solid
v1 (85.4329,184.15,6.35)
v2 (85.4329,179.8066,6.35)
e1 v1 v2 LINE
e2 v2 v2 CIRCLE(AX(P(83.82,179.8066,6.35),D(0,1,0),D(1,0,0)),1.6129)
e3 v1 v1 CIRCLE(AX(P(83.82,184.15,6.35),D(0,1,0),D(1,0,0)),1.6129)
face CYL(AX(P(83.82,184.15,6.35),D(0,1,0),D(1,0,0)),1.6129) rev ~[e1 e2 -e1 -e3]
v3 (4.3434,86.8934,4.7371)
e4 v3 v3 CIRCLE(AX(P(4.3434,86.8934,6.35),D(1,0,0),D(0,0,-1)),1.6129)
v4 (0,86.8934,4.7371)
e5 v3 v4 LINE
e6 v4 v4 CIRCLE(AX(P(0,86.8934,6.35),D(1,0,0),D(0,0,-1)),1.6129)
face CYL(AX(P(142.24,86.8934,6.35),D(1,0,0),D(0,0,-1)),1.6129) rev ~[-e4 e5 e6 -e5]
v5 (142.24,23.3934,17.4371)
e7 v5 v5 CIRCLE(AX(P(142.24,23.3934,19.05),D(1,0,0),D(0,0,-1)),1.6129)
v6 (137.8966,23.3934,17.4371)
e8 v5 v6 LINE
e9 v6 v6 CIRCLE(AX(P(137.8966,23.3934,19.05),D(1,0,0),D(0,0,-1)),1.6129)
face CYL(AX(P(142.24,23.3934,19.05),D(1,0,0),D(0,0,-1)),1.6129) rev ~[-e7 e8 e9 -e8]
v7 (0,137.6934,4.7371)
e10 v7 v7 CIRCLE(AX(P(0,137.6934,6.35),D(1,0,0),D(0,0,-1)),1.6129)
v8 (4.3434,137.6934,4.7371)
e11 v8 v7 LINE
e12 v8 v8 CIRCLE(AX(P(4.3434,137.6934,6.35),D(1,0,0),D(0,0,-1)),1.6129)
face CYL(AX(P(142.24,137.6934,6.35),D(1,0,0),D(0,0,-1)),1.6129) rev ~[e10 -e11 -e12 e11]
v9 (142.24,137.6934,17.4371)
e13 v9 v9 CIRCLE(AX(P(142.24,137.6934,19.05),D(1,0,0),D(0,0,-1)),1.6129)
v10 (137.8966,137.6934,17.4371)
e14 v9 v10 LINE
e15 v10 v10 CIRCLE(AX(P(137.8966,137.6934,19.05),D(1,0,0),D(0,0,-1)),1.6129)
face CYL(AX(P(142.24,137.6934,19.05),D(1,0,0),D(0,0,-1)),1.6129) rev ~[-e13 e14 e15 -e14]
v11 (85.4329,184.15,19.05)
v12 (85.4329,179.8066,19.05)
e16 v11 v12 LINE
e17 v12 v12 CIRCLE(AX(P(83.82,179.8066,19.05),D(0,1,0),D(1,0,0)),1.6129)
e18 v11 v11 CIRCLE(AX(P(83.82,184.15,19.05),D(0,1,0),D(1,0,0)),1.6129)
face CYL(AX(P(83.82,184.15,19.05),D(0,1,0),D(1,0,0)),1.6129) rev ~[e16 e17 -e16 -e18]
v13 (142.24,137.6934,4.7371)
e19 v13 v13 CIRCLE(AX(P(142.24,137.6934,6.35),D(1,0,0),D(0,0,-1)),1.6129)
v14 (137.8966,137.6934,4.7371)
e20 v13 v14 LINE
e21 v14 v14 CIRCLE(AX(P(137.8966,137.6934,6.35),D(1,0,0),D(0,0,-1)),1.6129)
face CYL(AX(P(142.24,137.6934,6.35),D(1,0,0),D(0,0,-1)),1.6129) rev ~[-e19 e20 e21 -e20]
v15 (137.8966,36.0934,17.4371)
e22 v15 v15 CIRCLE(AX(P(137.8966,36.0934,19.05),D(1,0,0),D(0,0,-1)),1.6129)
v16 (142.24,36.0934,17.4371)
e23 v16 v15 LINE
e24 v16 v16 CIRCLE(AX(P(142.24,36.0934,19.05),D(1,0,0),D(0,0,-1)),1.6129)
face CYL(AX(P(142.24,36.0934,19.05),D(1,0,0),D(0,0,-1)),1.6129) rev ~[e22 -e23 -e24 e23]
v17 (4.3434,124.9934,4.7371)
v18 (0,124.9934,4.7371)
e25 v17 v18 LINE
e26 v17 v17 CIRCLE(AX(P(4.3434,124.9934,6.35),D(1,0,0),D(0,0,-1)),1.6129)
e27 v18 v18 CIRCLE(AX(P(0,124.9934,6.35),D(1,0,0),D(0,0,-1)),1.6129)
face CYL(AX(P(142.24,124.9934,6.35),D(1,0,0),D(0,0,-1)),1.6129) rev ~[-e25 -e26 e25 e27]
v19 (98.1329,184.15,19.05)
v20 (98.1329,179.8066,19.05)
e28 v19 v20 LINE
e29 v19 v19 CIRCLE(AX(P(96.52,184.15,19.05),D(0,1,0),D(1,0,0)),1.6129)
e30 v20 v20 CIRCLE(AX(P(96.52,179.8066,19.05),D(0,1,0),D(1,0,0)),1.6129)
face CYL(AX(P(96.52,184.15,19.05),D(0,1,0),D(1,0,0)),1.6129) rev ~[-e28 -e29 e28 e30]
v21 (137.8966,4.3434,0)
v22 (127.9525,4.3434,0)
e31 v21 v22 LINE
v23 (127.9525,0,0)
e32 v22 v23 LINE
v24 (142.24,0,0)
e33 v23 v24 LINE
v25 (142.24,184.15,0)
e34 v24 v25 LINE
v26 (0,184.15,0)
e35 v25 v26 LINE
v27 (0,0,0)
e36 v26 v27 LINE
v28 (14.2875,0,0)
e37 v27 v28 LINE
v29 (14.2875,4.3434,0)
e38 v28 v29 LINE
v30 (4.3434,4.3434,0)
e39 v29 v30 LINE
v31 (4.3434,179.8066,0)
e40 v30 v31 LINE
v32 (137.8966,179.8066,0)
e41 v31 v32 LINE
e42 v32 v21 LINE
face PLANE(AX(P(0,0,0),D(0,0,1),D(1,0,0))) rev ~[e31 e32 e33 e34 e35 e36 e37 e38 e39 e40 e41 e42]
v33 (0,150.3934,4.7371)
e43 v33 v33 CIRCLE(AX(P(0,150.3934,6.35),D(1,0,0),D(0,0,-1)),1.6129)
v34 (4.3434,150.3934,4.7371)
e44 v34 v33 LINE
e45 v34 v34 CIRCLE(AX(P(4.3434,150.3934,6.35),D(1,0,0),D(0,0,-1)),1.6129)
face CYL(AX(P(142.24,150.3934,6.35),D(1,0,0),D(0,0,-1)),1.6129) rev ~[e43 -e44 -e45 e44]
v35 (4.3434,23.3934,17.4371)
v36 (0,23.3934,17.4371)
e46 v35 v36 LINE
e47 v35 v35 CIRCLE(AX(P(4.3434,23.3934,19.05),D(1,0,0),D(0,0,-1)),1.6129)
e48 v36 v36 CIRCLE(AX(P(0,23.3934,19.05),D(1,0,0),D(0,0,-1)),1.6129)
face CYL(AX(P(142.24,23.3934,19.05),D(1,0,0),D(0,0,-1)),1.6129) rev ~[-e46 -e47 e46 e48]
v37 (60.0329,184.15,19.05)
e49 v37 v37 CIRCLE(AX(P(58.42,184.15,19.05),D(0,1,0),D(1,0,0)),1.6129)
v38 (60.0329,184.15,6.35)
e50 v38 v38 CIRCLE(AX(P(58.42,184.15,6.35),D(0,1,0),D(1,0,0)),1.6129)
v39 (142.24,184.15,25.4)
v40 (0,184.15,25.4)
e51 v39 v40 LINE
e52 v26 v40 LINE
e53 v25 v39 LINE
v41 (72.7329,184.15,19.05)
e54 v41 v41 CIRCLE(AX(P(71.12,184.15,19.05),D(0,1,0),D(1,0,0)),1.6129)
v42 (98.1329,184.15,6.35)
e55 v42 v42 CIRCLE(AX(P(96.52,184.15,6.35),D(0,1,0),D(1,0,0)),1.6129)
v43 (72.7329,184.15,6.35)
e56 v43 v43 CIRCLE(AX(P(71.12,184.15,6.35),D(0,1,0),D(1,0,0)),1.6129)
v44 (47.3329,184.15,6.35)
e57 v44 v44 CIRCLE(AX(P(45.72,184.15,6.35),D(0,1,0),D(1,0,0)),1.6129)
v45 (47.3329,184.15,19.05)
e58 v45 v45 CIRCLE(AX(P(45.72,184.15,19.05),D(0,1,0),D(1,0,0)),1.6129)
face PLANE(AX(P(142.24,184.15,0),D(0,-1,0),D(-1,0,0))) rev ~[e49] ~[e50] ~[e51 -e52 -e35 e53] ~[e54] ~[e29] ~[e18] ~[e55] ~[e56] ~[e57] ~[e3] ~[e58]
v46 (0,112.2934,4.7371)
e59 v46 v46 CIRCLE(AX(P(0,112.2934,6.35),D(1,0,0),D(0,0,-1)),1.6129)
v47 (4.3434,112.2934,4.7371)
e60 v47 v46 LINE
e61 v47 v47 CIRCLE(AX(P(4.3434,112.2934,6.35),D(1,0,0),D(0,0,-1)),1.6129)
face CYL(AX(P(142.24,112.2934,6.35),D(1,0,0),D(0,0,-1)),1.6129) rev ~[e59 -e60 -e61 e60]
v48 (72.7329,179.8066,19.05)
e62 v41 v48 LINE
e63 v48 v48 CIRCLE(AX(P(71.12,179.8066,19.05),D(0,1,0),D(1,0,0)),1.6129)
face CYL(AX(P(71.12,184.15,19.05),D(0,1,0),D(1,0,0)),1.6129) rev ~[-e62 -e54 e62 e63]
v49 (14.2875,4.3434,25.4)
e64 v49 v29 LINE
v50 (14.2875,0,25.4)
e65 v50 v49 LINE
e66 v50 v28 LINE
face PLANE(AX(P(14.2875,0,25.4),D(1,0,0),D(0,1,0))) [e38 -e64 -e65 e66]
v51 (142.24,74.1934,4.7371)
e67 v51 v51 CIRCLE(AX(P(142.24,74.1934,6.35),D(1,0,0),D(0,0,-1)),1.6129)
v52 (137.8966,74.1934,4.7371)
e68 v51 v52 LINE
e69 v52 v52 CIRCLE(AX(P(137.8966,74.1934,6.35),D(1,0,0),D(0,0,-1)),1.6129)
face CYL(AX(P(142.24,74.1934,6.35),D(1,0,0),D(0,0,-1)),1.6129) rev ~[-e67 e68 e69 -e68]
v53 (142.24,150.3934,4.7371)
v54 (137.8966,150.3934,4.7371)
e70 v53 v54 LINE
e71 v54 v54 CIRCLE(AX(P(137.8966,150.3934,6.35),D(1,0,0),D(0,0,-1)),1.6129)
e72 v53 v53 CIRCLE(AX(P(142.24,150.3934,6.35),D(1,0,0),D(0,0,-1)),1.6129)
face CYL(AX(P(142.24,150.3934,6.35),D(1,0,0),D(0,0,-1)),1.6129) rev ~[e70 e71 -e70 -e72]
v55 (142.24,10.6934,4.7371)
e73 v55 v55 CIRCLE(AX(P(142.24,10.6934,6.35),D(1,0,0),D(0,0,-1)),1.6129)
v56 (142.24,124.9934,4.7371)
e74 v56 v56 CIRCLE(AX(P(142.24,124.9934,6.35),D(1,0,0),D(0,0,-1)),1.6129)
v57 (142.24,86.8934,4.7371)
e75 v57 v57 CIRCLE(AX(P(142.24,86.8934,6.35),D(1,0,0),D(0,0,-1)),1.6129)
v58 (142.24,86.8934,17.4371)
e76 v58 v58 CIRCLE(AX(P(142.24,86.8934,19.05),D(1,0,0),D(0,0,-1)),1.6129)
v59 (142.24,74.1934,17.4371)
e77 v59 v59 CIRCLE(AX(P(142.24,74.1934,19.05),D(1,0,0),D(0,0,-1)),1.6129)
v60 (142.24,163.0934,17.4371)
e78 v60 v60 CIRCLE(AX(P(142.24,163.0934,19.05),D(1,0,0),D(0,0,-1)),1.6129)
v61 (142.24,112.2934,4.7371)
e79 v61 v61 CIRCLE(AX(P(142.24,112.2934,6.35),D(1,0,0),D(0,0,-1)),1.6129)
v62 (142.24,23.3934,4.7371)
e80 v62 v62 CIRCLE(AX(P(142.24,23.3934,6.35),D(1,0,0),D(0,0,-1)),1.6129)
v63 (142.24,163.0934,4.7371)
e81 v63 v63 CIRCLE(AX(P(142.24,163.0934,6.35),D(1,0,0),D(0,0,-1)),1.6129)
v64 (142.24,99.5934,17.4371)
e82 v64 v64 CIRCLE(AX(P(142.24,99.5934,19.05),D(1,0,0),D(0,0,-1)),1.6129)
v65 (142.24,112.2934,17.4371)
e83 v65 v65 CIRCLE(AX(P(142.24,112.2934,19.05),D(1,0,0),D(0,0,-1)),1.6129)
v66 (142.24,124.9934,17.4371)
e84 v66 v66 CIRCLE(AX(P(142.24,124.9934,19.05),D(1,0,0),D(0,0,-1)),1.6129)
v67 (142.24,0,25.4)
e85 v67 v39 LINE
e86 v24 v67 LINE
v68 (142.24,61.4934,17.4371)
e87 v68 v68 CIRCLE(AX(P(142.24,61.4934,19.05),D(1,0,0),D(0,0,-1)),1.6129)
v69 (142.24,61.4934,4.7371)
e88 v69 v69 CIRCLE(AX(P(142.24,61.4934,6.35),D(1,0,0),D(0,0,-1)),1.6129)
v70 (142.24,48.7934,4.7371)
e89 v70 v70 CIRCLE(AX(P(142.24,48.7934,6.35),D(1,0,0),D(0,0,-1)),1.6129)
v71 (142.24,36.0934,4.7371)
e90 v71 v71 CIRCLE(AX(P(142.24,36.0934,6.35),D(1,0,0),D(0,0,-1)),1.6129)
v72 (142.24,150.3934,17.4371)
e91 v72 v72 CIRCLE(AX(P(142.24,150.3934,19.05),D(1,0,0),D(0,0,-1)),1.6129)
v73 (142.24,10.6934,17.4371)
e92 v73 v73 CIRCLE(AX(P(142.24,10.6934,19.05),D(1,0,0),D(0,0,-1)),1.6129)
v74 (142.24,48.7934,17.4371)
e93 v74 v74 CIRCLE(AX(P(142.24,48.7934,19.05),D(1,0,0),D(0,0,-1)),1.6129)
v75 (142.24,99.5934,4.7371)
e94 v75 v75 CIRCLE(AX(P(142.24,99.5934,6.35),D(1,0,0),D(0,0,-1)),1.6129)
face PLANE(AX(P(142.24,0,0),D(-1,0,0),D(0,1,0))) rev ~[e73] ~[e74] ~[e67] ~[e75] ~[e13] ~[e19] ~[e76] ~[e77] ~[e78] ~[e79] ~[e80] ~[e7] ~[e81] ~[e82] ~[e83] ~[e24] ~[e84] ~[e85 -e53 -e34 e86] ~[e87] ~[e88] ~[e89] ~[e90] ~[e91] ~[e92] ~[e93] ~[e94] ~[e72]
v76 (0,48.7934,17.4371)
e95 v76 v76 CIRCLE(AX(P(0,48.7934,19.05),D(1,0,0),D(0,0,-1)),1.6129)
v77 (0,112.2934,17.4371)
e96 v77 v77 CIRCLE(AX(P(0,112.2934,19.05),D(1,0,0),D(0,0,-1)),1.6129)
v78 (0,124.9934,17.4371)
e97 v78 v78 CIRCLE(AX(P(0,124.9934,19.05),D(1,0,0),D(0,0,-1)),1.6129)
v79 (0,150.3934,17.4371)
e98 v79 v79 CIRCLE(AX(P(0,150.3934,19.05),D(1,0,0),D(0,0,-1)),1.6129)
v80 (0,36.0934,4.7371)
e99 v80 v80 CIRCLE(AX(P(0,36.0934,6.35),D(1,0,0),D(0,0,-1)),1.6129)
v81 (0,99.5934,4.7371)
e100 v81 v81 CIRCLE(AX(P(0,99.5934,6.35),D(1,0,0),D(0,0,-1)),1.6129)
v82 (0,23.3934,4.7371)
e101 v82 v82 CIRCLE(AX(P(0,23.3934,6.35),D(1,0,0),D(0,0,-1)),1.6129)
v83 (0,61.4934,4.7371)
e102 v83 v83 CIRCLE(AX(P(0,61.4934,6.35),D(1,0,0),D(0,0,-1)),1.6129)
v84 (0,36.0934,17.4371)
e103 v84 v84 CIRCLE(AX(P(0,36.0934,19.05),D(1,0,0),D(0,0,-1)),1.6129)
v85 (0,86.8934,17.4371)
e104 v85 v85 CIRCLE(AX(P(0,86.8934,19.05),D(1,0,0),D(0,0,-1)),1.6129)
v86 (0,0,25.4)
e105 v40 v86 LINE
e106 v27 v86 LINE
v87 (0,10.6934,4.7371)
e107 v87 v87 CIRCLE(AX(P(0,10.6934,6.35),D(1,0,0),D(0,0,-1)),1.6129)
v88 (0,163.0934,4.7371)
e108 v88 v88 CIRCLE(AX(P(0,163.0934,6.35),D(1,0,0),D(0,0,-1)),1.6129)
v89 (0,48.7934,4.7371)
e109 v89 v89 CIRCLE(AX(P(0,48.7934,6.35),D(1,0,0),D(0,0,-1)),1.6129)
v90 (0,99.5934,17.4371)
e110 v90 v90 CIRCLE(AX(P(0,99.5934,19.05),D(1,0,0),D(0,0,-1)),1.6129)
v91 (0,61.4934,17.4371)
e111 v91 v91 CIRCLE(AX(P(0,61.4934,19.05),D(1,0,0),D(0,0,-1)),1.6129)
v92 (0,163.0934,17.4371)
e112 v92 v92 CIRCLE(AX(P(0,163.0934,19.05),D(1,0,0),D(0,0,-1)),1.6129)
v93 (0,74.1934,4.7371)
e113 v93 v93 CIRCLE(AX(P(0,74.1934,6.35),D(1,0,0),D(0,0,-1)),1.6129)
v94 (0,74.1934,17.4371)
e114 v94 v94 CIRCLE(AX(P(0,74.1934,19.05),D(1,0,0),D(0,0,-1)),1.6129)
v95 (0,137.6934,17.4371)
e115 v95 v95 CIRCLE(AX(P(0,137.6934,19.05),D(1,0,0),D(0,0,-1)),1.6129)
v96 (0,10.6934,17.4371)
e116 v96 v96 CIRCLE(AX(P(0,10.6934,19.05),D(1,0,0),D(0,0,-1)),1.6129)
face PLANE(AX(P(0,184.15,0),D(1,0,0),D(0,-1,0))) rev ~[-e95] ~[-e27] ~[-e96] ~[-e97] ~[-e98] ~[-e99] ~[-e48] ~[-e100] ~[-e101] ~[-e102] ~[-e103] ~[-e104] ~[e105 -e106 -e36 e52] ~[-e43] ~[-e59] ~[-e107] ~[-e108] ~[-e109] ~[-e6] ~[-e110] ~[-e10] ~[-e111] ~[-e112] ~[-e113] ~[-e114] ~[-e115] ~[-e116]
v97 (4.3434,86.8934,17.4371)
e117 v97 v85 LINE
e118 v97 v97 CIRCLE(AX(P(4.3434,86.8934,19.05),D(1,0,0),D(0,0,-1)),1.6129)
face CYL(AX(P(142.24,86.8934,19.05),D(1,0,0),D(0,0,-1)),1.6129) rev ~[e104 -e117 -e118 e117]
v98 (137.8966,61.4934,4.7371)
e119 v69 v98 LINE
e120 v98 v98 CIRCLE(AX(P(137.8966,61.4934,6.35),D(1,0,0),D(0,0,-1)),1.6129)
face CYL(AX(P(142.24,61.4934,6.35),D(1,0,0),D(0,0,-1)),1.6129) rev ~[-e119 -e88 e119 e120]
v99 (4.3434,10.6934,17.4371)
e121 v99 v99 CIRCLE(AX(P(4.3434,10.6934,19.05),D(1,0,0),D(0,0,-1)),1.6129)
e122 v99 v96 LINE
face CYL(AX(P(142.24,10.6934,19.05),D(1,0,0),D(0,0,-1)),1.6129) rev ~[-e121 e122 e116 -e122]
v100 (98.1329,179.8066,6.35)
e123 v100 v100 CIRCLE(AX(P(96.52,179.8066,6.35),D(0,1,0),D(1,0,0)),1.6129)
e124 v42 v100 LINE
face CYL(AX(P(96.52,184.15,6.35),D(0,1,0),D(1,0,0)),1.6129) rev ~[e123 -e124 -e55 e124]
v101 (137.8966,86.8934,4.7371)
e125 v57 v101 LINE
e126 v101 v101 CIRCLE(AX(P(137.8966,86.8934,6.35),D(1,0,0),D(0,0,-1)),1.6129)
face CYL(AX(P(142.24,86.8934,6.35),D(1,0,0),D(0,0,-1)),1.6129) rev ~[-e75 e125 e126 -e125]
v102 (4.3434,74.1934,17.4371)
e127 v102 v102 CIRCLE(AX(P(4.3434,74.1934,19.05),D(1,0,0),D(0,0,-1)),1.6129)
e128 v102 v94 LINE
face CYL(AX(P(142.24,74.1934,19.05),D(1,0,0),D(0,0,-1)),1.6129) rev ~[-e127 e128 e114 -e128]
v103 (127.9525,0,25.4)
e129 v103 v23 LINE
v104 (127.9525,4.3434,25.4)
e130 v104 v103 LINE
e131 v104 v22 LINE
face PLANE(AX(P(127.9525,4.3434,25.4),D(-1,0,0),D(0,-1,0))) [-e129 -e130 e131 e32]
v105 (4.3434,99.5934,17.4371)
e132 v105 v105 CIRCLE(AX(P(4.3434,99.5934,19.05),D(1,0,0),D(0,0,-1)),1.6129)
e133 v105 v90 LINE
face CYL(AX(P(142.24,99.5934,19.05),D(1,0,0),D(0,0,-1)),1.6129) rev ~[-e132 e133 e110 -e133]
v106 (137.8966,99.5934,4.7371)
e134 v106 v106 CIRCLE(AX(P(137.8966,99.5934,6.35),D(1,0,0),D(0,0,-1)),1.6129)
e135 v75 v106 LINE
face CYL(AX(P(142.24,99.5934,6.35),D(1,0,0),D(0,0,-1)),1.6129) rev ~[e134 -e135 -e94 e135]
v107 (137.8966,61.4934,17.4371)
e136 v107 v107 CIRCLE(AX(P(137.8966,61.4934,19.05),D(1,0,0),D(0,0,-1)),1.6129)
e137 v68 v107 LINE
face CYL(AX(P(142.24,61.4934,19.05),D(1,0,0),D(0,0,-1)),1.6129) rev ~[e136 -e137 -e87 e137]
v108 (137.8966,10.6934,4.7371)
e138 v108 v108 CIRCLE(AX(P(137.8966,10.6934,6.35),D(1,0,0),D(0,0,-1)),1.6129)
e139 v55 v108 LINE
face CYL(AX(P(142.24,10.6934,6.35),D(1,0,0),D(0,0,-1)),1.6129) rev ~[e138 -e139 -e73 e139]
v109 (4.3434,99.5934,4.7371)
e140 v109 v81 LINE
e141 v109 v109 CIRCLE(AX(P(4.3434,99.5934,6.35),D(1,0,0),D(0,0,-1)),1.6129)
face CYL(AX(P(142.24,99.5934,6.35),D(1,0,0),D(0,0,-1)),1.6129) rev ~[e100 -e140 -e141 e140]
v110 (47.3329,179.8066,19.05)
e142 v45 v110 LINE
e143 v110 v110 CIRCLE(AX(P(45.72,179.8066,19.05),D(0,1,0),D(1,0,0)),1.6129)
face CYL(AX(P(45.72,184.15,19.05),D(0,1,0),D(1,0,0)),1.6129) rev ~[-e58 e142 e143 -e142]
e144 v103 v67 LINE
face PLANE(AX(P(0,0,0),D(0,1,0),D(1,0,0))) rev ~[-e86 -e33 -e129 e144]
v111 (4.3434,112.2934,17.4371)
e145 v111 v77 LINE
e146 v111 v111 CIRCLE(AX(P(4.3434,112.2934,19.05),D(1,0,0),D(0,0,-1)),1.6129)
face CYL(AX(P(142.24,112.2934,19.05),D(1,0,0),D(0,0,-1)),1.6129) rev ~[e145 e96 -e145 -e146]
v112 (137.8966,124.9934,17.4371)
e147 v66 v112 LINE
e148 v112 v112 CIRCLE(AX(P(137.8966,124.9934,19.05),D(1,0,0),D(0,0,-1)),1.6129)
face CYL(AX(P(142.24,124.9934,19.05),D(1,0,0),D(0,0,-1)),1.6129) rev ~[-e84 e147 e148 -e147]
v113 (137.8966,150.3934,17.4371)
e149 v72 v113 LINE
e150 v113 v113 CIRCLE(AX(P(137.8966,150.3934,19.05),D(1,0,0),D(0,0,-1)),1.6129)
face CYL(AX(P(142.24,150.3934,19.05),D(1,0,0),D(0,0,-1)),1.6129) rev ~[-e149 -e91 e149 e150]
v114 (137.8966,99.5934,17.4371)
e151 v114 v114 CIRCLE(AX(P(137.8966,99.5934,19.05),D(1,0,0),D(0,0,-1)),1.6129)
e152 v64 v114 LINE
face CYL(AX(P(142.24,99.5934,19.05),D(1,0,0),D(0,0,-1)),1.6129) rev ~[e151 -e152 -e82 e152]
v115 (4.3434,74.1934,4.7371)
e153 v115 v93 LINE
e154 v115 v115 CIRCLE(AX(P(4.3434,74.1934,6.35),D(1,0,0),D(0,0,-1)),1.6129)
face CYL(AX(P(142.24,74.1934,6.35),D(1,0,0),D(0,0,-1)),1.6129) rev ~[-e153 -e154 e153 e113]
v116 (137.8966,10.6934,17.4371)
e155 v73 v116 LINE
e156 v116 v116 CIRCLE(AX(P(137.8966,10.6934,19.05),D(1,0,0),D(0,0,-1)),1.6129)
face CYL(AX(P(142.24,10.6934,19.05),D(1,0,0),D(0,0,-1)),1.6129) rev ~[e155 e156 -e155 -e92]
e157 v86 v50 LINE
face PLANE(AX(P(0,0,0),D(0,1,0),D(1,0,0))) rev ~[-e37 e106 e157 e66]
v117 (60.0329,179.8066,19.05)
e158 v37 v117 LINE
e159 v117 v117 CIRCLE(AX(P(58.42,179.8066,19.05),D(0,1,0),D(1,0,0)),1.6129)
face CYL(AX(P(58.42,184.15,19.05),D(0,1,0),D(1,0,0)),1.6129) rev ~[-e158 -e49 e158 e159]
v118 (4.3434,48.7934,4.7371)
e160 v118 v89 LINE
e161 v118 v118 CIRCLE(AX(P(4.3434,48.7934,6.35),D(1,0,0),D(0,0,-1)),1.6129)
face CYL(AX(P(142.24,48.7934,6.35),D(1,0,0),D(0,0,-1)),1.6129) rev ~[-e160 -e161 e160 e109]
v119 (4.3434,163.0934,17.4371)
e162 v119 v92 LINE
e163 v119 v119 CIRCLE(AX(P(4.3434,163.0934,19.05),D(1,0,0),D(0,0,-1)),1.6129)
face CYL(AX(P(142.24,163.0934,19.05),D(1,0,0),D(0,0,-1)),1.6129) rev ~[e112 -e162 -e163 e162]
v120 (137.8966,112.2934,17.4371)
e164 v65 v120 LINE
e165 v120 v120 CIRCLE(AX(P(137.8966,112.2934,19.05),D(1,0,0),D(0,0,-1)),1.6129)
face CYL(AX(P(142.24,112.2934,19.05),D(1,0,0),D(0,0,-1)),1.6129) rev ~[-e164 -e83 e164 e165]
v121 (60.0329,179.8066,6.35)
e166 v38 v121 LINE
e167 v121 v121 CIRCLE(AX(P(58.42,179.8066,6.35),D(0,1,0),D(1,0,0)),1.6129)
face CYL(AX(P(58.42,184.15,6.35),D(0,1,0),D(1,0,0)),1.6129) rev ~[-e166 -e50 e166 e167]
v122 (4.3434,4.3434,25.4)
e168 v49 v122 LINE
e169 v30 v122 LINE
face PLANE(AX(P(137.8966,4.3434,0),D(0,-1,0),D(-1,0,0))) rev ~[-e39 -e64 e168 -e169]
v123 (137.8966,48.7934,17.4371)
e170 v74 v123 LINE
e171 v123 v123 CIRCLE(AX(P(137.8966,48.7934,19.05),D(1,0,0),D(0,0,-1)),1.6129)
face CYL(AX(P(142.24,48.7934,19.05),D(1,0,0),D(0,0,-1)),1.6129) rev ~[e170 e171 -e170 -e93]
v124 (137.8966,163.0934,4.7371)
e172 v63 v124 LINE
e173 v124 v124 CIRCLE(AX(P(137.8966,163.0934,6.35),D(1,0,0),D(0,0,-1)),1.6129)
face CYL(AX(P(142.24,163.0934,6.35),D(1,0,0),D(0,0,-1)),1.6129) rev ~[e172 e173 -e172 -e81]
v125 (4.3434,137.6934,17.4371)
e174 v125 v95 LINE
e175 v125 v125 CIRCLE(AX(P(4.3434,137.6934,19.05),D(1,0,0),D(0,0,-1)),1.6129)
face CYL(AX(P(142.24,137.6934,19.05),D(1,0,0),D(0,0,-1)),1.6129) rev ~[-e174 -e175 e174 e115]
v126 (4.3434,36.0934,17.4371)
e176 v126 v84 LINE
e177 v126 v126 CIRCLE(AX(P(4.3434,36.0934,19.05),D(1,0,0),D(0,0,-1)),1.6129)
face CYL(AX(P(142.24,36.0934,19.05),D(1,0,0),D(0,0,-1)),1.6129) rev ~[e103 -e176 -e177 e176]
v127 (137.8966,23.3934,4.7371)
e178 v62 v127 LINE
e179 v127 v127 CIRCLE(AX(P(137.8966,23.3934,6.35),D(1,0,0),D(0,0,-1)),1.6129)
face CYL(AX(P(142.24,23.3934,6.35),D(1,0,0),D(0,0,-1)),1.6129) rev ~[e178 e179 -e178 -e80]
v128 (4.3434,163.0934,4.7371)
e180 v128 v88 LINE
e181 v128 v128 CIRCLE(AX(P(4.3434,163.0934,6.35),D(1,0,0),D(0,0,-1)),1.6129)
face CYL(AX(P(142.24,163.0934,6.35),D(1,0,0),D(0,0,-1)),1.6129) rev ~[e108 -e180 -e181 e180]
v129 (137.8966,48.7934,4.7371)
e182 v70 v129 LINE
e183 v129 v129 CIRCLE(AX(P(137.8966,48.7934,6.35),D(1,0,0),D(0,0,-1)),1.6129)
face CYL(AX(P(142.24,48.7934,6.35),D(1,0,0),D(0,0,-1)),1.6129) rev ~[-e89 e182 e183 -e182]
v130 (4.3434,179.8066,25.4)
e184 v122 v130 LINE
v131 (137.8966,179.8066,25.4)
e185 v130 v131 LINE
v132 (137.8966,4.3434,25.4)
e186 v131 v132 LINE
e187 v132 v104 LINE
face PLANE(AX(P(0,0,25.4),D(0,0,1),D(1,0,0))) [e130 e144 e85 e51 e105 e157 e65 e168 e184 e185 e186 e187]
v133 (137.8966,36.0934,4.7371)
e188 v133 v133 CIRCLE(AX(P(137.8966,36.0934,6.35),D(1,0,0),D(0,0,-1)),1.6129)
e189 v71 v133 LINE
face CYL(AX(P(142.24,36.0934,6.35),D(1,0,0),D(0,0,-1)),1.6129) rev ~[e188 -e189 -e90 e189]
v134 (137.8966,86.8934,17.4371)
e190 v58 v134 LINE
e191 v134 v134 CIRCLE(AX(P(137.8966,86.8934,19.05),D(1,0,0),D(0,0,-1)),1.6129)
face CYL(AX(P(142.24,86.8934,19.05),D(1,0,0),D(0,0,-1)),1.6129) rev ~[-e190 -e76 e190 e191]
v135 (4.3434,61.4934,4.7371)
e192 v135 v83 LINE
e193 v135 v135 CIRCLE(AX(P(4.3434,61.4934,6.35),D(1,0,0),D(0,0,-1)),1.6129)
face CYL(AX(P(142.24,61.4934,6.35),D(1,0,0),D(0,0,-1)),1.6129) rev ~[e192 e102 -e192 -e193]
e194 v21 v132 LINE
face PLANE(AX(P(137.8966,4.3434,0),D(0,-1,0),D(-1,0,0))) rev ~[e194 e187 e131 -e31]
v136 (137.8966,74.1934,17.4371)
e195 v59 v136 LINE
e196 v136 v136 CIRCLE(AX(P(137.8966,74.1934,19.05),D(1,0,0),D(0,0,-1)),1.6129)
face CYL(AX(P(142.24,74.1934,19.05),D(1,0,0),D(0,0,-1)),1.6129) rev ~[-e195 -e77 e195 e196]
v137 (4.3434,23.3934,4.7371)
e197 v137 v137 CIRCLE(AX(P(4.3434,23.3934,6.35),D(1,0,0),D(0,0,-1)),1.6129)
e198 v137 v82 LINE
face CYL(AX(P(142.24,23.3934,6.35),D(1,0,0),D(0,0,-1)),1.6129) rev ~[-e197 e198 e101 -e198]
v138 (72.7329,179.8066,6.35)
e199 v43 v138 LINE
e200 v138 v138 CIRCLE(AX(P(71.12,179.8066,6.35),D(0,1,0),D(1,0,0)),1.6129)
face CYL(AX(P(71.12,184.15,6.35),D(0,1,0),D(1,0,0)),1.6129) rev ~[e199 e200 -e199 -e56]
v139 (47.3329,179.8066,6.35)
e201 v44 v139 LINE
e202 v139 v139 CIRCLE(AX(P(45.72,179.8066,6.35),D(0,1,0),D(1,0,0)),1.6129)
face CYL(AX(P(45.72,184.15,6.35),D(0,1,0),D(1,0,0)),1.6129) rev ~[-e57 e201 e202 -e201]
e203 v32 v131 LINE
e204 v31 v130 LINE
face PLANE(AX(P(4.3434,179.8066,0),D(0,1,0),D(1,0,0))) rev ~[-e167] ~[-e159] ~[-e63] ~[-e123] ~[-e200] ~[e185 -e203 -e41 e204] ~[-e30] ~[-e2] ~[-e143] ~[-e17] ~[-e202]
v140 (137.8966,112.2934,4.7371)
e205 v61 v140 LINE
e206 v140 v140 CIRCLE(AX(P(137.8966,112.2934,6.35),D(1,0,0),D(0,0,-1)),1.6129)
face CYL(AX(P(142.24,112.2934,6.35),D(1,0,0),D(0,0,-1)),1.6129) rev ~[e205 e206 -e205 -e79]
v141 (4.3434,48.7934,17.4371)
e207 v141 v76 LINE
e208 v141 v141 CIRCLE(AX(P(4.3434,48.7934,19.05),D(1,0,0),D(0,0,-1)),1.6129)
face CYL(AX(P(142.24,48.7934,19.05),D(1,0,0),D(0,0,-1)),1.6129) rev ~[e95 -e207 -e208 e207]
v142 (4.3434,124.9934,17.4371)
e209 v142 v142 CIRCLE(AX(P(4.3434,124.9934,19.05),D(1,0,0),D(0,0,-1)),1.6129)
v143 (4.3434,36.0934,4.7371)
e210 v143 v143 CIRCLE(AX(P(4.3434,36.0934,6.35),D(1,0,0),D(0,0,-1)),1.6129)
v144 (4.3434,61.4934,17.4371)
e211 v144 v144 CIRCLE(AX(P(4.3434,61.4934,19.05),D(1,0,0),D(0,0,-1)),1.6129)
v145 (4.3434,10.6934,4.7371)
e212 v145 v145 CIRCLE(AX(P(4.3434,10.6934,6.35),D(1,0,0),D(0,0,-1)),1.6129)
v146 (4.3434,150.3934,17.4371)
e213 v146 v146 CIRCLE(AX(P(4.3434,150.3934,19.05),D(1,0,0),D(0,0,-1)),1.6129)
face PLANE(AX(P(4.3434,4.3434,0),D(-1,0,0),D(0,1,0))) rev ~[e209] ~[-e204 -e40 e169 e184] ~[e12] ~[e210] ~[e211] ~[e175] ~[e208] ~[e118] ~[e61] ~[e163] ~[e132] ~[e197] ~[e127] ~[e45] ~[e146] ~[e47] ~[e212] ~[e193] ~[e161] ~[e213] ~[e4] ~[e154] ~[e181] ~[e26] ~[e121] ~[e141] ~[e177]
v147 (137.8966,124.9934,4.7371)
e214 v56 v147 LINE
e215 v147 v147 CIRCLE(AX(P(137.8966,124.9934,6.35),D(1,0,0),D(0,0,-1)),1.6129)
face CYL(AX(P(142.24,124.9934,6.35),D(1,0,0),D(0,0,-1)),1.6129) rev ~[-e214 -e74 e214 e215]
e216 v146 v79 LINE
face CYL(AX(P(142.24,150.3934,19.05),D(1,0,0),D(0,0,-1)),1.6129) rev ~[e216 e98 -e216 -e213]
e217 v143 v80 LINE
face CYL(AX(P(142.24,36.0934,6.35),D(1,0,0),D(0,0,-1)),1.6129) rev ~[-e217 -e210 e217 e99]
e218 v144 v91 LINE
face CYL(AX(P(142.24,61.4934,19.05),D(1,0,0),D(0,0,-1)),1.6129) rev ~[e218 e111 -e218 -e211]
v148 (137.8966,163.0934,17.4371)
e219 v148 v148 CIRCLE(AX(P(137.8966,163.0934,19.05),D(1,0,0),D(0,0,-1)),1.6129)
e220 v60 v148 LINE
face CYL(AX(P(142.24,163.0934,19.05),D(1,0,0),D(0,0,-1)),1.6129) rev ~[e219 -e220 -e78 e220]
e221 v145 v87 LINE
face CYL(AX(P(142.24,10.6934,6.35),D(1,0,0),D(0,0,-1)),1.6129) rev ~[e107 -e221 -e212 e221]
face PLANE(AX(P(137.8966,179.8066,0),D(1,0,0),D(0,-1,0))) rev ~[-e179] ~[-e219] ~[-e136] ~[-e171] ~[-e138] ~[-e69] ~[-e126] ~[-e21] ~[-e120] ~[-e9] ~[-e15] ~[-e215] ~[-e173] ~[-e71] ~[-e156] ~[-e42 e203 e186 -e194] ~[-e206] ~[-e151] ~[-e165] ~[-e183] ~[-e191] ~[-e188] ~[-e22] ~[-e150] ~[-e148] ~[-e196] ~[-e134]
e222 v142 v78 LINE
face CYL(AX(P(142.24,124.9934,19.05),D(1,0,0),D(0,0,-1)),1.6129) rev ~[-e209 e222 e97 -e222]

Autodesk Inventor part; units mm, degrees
ref_plane "YZ Plane" through (0, 0, 0) normal (1, 0, 0) x (0, 1, 0)
ref_plane "XZ Plane" through (0, 0, 0) normal (0, 1, 0) x (-1, 0, 0)
ref_plane "XY Plane" through (0, 0, 0) normal (0, 0, 1) x (1, 0, 0)
sketch "Sketch1" plane through (0, 0, 0) normal (0, 0, 1) x (1, 0, 0)
  line L0 (0, 0) -> (142.24, 0)
  line L1 (142.24, 0) -> (142.24, 184.15)
  line L2 (142.24, 184.15) -> (0, 184.15)
  line L3 (0, 184.15) -> (0, 0)
  line L4 (4.3434, 179.8066) -> (137.8966, 179.8066)
  line L5 (137.8966, 179.8066) -> (137.8966, 4.3434)
  line L6 (137.8966, 4.3434) -> (4.3434, 4.3434)
  line L7 (4.3434, 4.3434) -> (4.3434, 179.8066)
  dimension "d0" = 184.15
  dimension "d1" = 142.24
  dimension "d2" = 4.3434
extrude "Extrusion1" add sketch "Sketch1" along normal blind 25.4
sketch "Sketch2" plane through (0, 0, 25.4) normal (0, 0, 1) x (1, 0, 0)
  line L0 (4.3434, 4.3434) -> (137.8966, 4.3434) projected
  line L1 (14.2875, 4.3434) -> (127.9525, 4.3434)
  line L2 (127.9525, 4.3434) -> (127.9525, 0)
  line L3 (127.9525, 0) -> (14.2875, 0)
  line L4 (14.2875, 0) -> (14.2875, 4.3434)
  line L5 (0, 184.15) -> (0, 0) projected
  line L6 (142.24, 0) -> (142.24, 184.15) projected
  dimension "d5" = 14.2875
  dimension "d6" = 14.2875
extrude "Extrusion2" cut sketch "Sketch2" against normal up to surface (25.4 mm away)
sketch "Sketch3" plane through (0, 0, 25.4) normal (0, 0, 1) x (1, 0, 0)
  line L0 (10.6934, 279.4) -> (17.0434, 279.4) construction
  line L1 (17.0434, 279.4) -> (17.0434, 25.4) construction
  line L2 (17.0434, 25.4) -> (10.6934, 25.4) construction
  line L3 (10.6934, 25.4) -> (10.6934, 279.4) construction
  line L4 (125.1966, 279.4) -> (131.5466, 279.4) construction
  line L5 (131.5466, 279.4) -> (131.5466, 25.4) construction
  line L6 (131.5466, 25.4) -> (125.1966, 25.4) construction
  line L7 (125.1966, 25.4) -> (125.1966, 279.4) construction
  line L8 (14.2875, 4.3434) -> (71.12, 4.3434) construction
  line L9 (71.12, 4.3434) -> (71.12, 0) construction
  line L10 (71.12, 0) -> (14.2875, 0) construction
  line L11 (14.2875, 0) -> (14.2875, 4.3434) construction
  line L12 (4.3434, 179.8066) -> (137.8966, 179.8066) construction
  line L13 (4.3434, 4.3434) -> (4.3434, 179.8066) construction
  line L14 (0, 0) -> (14.2875, 0) construction
  line L15 (137.8966, 179.8066) -> (137.8966, 4.3434) construction
  line L16 (127.9525, 0) -> (123.6091, 0) construction
  line L17 (123.6091, 0) -> (123.6091, -56.8325) construction
  line L18 (123.6091, -56.8325) -> (127.9525, -56.8325) construction
  line L19 (127.9525, -56.8325) -> (127.9525, 0) construction
  line L20 (137.8966, 4.3434) -> (112.4966, 4.3434) construction
  arc A0 (111.9446, 7.4193) -> (112.4966, 4.3434) centre (112.4966, 5.9309) ccw construction
  line L21 (111.9446, 7.4193) -> (137.8966, 17.0434) construction
  line L22 (137.8966, 4.3434) -> (137.8966, 179.8066) construction
  line L23 (159.3941, 36.0216) -> (266.702, 36.0216) construction
  line L24 (266.702, 36.0216) -> (266.702, 6.9446) construction
  line L25 (266.702, 6.9446) -> (159.3941, 6.9446) construction
  line L26 (159.3941, 6.9446) -> (159.3941, 36.0216) construction
  circle A1 centre (13.8684, 28.575) radius 3.175 construction
  circle A2 centre (128.3716, 28.575) radius 3.175 construction
  line L27 (42.7037, 4.3434) -> (12.0379, 25.9808)
  line L28 (111.3731, 7.0524) -> (130.6186, 26.3319)
  line L29 (111.0091, 5.3763) -> (123.6091, -28.4162)
  line L30 (63.5032, 17.7448) -> (103.5407, 17.7448) construction
  line L31 (103.5407, 17.7448) -> (103.5407, 7.0443) construction
  line L32 (103.5407, 7.0443) -> (63.5032, 7.0443) construction
  line L33 (63.5032, 7.0443) -> (63.5032, 17.7448) construction
  line L34 (144.8974, -10.3874) -> (251.178, -10.3874) construction
  line L35 (251.178, -10.3874) -> (251.178, -62.6009) construction
  line L36 (251.178, -62.6009) -> (144.8974, -62.6009) construction
  line L37 (144.8974, -62.6009) -> (144.8974, -10.3874) construction
  arc A3 (111.3731, 7.0524) -> (111.0091, 5.3763) centre (112.4966, 5.9309) ccw
  line L38 (3.9911, -9.0202) -> (42.7037, -9.0202) construction
  line L39 (42.7037, -9.0202) -> (42.7037, -18.258) construction
  line L40 (42.7037, -18.258) -> (3.9911, -18.258) construction
  line L41 (3.9911, -18.258) -> (3.9911, -9.0202) construction
  line L42 (8.6414, -30.8758) -> (98.6277, -30.8758) construction
  line L43 (98.6277, -30.8758) -> (98.6277, -107.8338) construction
  line L44 (98.6277, -107.8338) -> (8.6414, -107.8338) construction
  line L45 (8.6414, -107.8338) -> (8.6414, -30.8758) construction
  circle A4 centre (71.12, 145.5166) radius 17.5641 construction
  line L46 (33.02, 179.8066) -> (109.22, 179.8066) construction
  line L47 (109.22, 179.8066) -> (109.22, 173.4566) construction
  line L48 (109.22, 173.4566) -> (33.02, 173.4566) construction
  line L49 (33.02, 173.4566) -> (33.02, 179.8066) construction
  circle A5 centre (71.12, 145.5166) radius 25.4 construction
  point P0 (71.12, 179.8066)
  point P1 (71.12, 179.8066)
  point P2 (71.12, 173.4566)
  point P3 (71.12, 179.8066)
  dimension "d9" = 6.35
  dimension "d10" = 6.35
  dimension "d11" = 25.4
  dimension "d12" = 254
  dimension "d13" = 6.35
  dimension "d14" = 25.4
  dimension "d15" = 3.175
  dimension "d16" = 12.7
  dimension "d34" = 30.6658
  dimension "d35" = 21.6374
  dimension "d36" = 19.2795
  dimension "d37" = 19.2456
  dimension "d38" = 33.7925
  dimension "d39" = 12.6
  dimension "d40" = 35.1282
  dimension "d41" = 6.35
  dimension "d42" = 50.8
  dimension "d43" = 27.94
  dimension "d44" = 76.2
sketch "Sketch4" plane through (142.24, 0, 0) normal (1, 0, 0) x (0, 0, -1)
  line L0 (0, 4.3434) -> (-25.4, 4.3434) projected
  circle A0 centre (-19.05, 10.6934) radius 1.6129
  circle A1 centre (-6.35, 10.6934) radius 1.6129
  line L1 (-25.4, 17.0434) -> (-12.7, 4.3434) construction
  line L2 (0, 4.3434) -> (-25.4, 4.3434) construction
  line L3 (-12.7, 4.3434) -> (0, 17.0434) construction
  line L4 (0, 0) -> (0, 184.15) construction
  dimension "d17" = 3.2258
extrude "Extrusion3" cut sketch "Sketch4" against normal through all
pattern_linear "Rectangular Pattern1" count 13 spacing 12.7 along (0, 1, 0) of "Extrusion3"
sketch "Sketch6" plane through (0, 184.15, 0) normal (0, 1, 0) x (1, 0, 0)
  circle A0 centre (71.12, -6.35) radius 1.6129
  circle A1 centre (71.12, -19.05) radius 1.6129
  line L0 (142.24, 0) -> (0, 0) projected
  point P0 (71.12, 0)
  dimension "d23" = 3.2258
  dimension "d24" = 6.35
  dimension "d25" = 12.7
extrude "Extrusion4" cut sketch "Sketch6" against normal up to surface (4.3434 mm away)
pattern_linear "Rectangular Pattern2" count 3 spacing 12.7 along (-1, 0, 0) count 3 spacing -12.7 along (-1, 0, 0) of "Extrusion4"
equation "\"d6\" = d5"
equation "\"d13\" = d10"
properties part number "Bay Door Prototype Mk1"
